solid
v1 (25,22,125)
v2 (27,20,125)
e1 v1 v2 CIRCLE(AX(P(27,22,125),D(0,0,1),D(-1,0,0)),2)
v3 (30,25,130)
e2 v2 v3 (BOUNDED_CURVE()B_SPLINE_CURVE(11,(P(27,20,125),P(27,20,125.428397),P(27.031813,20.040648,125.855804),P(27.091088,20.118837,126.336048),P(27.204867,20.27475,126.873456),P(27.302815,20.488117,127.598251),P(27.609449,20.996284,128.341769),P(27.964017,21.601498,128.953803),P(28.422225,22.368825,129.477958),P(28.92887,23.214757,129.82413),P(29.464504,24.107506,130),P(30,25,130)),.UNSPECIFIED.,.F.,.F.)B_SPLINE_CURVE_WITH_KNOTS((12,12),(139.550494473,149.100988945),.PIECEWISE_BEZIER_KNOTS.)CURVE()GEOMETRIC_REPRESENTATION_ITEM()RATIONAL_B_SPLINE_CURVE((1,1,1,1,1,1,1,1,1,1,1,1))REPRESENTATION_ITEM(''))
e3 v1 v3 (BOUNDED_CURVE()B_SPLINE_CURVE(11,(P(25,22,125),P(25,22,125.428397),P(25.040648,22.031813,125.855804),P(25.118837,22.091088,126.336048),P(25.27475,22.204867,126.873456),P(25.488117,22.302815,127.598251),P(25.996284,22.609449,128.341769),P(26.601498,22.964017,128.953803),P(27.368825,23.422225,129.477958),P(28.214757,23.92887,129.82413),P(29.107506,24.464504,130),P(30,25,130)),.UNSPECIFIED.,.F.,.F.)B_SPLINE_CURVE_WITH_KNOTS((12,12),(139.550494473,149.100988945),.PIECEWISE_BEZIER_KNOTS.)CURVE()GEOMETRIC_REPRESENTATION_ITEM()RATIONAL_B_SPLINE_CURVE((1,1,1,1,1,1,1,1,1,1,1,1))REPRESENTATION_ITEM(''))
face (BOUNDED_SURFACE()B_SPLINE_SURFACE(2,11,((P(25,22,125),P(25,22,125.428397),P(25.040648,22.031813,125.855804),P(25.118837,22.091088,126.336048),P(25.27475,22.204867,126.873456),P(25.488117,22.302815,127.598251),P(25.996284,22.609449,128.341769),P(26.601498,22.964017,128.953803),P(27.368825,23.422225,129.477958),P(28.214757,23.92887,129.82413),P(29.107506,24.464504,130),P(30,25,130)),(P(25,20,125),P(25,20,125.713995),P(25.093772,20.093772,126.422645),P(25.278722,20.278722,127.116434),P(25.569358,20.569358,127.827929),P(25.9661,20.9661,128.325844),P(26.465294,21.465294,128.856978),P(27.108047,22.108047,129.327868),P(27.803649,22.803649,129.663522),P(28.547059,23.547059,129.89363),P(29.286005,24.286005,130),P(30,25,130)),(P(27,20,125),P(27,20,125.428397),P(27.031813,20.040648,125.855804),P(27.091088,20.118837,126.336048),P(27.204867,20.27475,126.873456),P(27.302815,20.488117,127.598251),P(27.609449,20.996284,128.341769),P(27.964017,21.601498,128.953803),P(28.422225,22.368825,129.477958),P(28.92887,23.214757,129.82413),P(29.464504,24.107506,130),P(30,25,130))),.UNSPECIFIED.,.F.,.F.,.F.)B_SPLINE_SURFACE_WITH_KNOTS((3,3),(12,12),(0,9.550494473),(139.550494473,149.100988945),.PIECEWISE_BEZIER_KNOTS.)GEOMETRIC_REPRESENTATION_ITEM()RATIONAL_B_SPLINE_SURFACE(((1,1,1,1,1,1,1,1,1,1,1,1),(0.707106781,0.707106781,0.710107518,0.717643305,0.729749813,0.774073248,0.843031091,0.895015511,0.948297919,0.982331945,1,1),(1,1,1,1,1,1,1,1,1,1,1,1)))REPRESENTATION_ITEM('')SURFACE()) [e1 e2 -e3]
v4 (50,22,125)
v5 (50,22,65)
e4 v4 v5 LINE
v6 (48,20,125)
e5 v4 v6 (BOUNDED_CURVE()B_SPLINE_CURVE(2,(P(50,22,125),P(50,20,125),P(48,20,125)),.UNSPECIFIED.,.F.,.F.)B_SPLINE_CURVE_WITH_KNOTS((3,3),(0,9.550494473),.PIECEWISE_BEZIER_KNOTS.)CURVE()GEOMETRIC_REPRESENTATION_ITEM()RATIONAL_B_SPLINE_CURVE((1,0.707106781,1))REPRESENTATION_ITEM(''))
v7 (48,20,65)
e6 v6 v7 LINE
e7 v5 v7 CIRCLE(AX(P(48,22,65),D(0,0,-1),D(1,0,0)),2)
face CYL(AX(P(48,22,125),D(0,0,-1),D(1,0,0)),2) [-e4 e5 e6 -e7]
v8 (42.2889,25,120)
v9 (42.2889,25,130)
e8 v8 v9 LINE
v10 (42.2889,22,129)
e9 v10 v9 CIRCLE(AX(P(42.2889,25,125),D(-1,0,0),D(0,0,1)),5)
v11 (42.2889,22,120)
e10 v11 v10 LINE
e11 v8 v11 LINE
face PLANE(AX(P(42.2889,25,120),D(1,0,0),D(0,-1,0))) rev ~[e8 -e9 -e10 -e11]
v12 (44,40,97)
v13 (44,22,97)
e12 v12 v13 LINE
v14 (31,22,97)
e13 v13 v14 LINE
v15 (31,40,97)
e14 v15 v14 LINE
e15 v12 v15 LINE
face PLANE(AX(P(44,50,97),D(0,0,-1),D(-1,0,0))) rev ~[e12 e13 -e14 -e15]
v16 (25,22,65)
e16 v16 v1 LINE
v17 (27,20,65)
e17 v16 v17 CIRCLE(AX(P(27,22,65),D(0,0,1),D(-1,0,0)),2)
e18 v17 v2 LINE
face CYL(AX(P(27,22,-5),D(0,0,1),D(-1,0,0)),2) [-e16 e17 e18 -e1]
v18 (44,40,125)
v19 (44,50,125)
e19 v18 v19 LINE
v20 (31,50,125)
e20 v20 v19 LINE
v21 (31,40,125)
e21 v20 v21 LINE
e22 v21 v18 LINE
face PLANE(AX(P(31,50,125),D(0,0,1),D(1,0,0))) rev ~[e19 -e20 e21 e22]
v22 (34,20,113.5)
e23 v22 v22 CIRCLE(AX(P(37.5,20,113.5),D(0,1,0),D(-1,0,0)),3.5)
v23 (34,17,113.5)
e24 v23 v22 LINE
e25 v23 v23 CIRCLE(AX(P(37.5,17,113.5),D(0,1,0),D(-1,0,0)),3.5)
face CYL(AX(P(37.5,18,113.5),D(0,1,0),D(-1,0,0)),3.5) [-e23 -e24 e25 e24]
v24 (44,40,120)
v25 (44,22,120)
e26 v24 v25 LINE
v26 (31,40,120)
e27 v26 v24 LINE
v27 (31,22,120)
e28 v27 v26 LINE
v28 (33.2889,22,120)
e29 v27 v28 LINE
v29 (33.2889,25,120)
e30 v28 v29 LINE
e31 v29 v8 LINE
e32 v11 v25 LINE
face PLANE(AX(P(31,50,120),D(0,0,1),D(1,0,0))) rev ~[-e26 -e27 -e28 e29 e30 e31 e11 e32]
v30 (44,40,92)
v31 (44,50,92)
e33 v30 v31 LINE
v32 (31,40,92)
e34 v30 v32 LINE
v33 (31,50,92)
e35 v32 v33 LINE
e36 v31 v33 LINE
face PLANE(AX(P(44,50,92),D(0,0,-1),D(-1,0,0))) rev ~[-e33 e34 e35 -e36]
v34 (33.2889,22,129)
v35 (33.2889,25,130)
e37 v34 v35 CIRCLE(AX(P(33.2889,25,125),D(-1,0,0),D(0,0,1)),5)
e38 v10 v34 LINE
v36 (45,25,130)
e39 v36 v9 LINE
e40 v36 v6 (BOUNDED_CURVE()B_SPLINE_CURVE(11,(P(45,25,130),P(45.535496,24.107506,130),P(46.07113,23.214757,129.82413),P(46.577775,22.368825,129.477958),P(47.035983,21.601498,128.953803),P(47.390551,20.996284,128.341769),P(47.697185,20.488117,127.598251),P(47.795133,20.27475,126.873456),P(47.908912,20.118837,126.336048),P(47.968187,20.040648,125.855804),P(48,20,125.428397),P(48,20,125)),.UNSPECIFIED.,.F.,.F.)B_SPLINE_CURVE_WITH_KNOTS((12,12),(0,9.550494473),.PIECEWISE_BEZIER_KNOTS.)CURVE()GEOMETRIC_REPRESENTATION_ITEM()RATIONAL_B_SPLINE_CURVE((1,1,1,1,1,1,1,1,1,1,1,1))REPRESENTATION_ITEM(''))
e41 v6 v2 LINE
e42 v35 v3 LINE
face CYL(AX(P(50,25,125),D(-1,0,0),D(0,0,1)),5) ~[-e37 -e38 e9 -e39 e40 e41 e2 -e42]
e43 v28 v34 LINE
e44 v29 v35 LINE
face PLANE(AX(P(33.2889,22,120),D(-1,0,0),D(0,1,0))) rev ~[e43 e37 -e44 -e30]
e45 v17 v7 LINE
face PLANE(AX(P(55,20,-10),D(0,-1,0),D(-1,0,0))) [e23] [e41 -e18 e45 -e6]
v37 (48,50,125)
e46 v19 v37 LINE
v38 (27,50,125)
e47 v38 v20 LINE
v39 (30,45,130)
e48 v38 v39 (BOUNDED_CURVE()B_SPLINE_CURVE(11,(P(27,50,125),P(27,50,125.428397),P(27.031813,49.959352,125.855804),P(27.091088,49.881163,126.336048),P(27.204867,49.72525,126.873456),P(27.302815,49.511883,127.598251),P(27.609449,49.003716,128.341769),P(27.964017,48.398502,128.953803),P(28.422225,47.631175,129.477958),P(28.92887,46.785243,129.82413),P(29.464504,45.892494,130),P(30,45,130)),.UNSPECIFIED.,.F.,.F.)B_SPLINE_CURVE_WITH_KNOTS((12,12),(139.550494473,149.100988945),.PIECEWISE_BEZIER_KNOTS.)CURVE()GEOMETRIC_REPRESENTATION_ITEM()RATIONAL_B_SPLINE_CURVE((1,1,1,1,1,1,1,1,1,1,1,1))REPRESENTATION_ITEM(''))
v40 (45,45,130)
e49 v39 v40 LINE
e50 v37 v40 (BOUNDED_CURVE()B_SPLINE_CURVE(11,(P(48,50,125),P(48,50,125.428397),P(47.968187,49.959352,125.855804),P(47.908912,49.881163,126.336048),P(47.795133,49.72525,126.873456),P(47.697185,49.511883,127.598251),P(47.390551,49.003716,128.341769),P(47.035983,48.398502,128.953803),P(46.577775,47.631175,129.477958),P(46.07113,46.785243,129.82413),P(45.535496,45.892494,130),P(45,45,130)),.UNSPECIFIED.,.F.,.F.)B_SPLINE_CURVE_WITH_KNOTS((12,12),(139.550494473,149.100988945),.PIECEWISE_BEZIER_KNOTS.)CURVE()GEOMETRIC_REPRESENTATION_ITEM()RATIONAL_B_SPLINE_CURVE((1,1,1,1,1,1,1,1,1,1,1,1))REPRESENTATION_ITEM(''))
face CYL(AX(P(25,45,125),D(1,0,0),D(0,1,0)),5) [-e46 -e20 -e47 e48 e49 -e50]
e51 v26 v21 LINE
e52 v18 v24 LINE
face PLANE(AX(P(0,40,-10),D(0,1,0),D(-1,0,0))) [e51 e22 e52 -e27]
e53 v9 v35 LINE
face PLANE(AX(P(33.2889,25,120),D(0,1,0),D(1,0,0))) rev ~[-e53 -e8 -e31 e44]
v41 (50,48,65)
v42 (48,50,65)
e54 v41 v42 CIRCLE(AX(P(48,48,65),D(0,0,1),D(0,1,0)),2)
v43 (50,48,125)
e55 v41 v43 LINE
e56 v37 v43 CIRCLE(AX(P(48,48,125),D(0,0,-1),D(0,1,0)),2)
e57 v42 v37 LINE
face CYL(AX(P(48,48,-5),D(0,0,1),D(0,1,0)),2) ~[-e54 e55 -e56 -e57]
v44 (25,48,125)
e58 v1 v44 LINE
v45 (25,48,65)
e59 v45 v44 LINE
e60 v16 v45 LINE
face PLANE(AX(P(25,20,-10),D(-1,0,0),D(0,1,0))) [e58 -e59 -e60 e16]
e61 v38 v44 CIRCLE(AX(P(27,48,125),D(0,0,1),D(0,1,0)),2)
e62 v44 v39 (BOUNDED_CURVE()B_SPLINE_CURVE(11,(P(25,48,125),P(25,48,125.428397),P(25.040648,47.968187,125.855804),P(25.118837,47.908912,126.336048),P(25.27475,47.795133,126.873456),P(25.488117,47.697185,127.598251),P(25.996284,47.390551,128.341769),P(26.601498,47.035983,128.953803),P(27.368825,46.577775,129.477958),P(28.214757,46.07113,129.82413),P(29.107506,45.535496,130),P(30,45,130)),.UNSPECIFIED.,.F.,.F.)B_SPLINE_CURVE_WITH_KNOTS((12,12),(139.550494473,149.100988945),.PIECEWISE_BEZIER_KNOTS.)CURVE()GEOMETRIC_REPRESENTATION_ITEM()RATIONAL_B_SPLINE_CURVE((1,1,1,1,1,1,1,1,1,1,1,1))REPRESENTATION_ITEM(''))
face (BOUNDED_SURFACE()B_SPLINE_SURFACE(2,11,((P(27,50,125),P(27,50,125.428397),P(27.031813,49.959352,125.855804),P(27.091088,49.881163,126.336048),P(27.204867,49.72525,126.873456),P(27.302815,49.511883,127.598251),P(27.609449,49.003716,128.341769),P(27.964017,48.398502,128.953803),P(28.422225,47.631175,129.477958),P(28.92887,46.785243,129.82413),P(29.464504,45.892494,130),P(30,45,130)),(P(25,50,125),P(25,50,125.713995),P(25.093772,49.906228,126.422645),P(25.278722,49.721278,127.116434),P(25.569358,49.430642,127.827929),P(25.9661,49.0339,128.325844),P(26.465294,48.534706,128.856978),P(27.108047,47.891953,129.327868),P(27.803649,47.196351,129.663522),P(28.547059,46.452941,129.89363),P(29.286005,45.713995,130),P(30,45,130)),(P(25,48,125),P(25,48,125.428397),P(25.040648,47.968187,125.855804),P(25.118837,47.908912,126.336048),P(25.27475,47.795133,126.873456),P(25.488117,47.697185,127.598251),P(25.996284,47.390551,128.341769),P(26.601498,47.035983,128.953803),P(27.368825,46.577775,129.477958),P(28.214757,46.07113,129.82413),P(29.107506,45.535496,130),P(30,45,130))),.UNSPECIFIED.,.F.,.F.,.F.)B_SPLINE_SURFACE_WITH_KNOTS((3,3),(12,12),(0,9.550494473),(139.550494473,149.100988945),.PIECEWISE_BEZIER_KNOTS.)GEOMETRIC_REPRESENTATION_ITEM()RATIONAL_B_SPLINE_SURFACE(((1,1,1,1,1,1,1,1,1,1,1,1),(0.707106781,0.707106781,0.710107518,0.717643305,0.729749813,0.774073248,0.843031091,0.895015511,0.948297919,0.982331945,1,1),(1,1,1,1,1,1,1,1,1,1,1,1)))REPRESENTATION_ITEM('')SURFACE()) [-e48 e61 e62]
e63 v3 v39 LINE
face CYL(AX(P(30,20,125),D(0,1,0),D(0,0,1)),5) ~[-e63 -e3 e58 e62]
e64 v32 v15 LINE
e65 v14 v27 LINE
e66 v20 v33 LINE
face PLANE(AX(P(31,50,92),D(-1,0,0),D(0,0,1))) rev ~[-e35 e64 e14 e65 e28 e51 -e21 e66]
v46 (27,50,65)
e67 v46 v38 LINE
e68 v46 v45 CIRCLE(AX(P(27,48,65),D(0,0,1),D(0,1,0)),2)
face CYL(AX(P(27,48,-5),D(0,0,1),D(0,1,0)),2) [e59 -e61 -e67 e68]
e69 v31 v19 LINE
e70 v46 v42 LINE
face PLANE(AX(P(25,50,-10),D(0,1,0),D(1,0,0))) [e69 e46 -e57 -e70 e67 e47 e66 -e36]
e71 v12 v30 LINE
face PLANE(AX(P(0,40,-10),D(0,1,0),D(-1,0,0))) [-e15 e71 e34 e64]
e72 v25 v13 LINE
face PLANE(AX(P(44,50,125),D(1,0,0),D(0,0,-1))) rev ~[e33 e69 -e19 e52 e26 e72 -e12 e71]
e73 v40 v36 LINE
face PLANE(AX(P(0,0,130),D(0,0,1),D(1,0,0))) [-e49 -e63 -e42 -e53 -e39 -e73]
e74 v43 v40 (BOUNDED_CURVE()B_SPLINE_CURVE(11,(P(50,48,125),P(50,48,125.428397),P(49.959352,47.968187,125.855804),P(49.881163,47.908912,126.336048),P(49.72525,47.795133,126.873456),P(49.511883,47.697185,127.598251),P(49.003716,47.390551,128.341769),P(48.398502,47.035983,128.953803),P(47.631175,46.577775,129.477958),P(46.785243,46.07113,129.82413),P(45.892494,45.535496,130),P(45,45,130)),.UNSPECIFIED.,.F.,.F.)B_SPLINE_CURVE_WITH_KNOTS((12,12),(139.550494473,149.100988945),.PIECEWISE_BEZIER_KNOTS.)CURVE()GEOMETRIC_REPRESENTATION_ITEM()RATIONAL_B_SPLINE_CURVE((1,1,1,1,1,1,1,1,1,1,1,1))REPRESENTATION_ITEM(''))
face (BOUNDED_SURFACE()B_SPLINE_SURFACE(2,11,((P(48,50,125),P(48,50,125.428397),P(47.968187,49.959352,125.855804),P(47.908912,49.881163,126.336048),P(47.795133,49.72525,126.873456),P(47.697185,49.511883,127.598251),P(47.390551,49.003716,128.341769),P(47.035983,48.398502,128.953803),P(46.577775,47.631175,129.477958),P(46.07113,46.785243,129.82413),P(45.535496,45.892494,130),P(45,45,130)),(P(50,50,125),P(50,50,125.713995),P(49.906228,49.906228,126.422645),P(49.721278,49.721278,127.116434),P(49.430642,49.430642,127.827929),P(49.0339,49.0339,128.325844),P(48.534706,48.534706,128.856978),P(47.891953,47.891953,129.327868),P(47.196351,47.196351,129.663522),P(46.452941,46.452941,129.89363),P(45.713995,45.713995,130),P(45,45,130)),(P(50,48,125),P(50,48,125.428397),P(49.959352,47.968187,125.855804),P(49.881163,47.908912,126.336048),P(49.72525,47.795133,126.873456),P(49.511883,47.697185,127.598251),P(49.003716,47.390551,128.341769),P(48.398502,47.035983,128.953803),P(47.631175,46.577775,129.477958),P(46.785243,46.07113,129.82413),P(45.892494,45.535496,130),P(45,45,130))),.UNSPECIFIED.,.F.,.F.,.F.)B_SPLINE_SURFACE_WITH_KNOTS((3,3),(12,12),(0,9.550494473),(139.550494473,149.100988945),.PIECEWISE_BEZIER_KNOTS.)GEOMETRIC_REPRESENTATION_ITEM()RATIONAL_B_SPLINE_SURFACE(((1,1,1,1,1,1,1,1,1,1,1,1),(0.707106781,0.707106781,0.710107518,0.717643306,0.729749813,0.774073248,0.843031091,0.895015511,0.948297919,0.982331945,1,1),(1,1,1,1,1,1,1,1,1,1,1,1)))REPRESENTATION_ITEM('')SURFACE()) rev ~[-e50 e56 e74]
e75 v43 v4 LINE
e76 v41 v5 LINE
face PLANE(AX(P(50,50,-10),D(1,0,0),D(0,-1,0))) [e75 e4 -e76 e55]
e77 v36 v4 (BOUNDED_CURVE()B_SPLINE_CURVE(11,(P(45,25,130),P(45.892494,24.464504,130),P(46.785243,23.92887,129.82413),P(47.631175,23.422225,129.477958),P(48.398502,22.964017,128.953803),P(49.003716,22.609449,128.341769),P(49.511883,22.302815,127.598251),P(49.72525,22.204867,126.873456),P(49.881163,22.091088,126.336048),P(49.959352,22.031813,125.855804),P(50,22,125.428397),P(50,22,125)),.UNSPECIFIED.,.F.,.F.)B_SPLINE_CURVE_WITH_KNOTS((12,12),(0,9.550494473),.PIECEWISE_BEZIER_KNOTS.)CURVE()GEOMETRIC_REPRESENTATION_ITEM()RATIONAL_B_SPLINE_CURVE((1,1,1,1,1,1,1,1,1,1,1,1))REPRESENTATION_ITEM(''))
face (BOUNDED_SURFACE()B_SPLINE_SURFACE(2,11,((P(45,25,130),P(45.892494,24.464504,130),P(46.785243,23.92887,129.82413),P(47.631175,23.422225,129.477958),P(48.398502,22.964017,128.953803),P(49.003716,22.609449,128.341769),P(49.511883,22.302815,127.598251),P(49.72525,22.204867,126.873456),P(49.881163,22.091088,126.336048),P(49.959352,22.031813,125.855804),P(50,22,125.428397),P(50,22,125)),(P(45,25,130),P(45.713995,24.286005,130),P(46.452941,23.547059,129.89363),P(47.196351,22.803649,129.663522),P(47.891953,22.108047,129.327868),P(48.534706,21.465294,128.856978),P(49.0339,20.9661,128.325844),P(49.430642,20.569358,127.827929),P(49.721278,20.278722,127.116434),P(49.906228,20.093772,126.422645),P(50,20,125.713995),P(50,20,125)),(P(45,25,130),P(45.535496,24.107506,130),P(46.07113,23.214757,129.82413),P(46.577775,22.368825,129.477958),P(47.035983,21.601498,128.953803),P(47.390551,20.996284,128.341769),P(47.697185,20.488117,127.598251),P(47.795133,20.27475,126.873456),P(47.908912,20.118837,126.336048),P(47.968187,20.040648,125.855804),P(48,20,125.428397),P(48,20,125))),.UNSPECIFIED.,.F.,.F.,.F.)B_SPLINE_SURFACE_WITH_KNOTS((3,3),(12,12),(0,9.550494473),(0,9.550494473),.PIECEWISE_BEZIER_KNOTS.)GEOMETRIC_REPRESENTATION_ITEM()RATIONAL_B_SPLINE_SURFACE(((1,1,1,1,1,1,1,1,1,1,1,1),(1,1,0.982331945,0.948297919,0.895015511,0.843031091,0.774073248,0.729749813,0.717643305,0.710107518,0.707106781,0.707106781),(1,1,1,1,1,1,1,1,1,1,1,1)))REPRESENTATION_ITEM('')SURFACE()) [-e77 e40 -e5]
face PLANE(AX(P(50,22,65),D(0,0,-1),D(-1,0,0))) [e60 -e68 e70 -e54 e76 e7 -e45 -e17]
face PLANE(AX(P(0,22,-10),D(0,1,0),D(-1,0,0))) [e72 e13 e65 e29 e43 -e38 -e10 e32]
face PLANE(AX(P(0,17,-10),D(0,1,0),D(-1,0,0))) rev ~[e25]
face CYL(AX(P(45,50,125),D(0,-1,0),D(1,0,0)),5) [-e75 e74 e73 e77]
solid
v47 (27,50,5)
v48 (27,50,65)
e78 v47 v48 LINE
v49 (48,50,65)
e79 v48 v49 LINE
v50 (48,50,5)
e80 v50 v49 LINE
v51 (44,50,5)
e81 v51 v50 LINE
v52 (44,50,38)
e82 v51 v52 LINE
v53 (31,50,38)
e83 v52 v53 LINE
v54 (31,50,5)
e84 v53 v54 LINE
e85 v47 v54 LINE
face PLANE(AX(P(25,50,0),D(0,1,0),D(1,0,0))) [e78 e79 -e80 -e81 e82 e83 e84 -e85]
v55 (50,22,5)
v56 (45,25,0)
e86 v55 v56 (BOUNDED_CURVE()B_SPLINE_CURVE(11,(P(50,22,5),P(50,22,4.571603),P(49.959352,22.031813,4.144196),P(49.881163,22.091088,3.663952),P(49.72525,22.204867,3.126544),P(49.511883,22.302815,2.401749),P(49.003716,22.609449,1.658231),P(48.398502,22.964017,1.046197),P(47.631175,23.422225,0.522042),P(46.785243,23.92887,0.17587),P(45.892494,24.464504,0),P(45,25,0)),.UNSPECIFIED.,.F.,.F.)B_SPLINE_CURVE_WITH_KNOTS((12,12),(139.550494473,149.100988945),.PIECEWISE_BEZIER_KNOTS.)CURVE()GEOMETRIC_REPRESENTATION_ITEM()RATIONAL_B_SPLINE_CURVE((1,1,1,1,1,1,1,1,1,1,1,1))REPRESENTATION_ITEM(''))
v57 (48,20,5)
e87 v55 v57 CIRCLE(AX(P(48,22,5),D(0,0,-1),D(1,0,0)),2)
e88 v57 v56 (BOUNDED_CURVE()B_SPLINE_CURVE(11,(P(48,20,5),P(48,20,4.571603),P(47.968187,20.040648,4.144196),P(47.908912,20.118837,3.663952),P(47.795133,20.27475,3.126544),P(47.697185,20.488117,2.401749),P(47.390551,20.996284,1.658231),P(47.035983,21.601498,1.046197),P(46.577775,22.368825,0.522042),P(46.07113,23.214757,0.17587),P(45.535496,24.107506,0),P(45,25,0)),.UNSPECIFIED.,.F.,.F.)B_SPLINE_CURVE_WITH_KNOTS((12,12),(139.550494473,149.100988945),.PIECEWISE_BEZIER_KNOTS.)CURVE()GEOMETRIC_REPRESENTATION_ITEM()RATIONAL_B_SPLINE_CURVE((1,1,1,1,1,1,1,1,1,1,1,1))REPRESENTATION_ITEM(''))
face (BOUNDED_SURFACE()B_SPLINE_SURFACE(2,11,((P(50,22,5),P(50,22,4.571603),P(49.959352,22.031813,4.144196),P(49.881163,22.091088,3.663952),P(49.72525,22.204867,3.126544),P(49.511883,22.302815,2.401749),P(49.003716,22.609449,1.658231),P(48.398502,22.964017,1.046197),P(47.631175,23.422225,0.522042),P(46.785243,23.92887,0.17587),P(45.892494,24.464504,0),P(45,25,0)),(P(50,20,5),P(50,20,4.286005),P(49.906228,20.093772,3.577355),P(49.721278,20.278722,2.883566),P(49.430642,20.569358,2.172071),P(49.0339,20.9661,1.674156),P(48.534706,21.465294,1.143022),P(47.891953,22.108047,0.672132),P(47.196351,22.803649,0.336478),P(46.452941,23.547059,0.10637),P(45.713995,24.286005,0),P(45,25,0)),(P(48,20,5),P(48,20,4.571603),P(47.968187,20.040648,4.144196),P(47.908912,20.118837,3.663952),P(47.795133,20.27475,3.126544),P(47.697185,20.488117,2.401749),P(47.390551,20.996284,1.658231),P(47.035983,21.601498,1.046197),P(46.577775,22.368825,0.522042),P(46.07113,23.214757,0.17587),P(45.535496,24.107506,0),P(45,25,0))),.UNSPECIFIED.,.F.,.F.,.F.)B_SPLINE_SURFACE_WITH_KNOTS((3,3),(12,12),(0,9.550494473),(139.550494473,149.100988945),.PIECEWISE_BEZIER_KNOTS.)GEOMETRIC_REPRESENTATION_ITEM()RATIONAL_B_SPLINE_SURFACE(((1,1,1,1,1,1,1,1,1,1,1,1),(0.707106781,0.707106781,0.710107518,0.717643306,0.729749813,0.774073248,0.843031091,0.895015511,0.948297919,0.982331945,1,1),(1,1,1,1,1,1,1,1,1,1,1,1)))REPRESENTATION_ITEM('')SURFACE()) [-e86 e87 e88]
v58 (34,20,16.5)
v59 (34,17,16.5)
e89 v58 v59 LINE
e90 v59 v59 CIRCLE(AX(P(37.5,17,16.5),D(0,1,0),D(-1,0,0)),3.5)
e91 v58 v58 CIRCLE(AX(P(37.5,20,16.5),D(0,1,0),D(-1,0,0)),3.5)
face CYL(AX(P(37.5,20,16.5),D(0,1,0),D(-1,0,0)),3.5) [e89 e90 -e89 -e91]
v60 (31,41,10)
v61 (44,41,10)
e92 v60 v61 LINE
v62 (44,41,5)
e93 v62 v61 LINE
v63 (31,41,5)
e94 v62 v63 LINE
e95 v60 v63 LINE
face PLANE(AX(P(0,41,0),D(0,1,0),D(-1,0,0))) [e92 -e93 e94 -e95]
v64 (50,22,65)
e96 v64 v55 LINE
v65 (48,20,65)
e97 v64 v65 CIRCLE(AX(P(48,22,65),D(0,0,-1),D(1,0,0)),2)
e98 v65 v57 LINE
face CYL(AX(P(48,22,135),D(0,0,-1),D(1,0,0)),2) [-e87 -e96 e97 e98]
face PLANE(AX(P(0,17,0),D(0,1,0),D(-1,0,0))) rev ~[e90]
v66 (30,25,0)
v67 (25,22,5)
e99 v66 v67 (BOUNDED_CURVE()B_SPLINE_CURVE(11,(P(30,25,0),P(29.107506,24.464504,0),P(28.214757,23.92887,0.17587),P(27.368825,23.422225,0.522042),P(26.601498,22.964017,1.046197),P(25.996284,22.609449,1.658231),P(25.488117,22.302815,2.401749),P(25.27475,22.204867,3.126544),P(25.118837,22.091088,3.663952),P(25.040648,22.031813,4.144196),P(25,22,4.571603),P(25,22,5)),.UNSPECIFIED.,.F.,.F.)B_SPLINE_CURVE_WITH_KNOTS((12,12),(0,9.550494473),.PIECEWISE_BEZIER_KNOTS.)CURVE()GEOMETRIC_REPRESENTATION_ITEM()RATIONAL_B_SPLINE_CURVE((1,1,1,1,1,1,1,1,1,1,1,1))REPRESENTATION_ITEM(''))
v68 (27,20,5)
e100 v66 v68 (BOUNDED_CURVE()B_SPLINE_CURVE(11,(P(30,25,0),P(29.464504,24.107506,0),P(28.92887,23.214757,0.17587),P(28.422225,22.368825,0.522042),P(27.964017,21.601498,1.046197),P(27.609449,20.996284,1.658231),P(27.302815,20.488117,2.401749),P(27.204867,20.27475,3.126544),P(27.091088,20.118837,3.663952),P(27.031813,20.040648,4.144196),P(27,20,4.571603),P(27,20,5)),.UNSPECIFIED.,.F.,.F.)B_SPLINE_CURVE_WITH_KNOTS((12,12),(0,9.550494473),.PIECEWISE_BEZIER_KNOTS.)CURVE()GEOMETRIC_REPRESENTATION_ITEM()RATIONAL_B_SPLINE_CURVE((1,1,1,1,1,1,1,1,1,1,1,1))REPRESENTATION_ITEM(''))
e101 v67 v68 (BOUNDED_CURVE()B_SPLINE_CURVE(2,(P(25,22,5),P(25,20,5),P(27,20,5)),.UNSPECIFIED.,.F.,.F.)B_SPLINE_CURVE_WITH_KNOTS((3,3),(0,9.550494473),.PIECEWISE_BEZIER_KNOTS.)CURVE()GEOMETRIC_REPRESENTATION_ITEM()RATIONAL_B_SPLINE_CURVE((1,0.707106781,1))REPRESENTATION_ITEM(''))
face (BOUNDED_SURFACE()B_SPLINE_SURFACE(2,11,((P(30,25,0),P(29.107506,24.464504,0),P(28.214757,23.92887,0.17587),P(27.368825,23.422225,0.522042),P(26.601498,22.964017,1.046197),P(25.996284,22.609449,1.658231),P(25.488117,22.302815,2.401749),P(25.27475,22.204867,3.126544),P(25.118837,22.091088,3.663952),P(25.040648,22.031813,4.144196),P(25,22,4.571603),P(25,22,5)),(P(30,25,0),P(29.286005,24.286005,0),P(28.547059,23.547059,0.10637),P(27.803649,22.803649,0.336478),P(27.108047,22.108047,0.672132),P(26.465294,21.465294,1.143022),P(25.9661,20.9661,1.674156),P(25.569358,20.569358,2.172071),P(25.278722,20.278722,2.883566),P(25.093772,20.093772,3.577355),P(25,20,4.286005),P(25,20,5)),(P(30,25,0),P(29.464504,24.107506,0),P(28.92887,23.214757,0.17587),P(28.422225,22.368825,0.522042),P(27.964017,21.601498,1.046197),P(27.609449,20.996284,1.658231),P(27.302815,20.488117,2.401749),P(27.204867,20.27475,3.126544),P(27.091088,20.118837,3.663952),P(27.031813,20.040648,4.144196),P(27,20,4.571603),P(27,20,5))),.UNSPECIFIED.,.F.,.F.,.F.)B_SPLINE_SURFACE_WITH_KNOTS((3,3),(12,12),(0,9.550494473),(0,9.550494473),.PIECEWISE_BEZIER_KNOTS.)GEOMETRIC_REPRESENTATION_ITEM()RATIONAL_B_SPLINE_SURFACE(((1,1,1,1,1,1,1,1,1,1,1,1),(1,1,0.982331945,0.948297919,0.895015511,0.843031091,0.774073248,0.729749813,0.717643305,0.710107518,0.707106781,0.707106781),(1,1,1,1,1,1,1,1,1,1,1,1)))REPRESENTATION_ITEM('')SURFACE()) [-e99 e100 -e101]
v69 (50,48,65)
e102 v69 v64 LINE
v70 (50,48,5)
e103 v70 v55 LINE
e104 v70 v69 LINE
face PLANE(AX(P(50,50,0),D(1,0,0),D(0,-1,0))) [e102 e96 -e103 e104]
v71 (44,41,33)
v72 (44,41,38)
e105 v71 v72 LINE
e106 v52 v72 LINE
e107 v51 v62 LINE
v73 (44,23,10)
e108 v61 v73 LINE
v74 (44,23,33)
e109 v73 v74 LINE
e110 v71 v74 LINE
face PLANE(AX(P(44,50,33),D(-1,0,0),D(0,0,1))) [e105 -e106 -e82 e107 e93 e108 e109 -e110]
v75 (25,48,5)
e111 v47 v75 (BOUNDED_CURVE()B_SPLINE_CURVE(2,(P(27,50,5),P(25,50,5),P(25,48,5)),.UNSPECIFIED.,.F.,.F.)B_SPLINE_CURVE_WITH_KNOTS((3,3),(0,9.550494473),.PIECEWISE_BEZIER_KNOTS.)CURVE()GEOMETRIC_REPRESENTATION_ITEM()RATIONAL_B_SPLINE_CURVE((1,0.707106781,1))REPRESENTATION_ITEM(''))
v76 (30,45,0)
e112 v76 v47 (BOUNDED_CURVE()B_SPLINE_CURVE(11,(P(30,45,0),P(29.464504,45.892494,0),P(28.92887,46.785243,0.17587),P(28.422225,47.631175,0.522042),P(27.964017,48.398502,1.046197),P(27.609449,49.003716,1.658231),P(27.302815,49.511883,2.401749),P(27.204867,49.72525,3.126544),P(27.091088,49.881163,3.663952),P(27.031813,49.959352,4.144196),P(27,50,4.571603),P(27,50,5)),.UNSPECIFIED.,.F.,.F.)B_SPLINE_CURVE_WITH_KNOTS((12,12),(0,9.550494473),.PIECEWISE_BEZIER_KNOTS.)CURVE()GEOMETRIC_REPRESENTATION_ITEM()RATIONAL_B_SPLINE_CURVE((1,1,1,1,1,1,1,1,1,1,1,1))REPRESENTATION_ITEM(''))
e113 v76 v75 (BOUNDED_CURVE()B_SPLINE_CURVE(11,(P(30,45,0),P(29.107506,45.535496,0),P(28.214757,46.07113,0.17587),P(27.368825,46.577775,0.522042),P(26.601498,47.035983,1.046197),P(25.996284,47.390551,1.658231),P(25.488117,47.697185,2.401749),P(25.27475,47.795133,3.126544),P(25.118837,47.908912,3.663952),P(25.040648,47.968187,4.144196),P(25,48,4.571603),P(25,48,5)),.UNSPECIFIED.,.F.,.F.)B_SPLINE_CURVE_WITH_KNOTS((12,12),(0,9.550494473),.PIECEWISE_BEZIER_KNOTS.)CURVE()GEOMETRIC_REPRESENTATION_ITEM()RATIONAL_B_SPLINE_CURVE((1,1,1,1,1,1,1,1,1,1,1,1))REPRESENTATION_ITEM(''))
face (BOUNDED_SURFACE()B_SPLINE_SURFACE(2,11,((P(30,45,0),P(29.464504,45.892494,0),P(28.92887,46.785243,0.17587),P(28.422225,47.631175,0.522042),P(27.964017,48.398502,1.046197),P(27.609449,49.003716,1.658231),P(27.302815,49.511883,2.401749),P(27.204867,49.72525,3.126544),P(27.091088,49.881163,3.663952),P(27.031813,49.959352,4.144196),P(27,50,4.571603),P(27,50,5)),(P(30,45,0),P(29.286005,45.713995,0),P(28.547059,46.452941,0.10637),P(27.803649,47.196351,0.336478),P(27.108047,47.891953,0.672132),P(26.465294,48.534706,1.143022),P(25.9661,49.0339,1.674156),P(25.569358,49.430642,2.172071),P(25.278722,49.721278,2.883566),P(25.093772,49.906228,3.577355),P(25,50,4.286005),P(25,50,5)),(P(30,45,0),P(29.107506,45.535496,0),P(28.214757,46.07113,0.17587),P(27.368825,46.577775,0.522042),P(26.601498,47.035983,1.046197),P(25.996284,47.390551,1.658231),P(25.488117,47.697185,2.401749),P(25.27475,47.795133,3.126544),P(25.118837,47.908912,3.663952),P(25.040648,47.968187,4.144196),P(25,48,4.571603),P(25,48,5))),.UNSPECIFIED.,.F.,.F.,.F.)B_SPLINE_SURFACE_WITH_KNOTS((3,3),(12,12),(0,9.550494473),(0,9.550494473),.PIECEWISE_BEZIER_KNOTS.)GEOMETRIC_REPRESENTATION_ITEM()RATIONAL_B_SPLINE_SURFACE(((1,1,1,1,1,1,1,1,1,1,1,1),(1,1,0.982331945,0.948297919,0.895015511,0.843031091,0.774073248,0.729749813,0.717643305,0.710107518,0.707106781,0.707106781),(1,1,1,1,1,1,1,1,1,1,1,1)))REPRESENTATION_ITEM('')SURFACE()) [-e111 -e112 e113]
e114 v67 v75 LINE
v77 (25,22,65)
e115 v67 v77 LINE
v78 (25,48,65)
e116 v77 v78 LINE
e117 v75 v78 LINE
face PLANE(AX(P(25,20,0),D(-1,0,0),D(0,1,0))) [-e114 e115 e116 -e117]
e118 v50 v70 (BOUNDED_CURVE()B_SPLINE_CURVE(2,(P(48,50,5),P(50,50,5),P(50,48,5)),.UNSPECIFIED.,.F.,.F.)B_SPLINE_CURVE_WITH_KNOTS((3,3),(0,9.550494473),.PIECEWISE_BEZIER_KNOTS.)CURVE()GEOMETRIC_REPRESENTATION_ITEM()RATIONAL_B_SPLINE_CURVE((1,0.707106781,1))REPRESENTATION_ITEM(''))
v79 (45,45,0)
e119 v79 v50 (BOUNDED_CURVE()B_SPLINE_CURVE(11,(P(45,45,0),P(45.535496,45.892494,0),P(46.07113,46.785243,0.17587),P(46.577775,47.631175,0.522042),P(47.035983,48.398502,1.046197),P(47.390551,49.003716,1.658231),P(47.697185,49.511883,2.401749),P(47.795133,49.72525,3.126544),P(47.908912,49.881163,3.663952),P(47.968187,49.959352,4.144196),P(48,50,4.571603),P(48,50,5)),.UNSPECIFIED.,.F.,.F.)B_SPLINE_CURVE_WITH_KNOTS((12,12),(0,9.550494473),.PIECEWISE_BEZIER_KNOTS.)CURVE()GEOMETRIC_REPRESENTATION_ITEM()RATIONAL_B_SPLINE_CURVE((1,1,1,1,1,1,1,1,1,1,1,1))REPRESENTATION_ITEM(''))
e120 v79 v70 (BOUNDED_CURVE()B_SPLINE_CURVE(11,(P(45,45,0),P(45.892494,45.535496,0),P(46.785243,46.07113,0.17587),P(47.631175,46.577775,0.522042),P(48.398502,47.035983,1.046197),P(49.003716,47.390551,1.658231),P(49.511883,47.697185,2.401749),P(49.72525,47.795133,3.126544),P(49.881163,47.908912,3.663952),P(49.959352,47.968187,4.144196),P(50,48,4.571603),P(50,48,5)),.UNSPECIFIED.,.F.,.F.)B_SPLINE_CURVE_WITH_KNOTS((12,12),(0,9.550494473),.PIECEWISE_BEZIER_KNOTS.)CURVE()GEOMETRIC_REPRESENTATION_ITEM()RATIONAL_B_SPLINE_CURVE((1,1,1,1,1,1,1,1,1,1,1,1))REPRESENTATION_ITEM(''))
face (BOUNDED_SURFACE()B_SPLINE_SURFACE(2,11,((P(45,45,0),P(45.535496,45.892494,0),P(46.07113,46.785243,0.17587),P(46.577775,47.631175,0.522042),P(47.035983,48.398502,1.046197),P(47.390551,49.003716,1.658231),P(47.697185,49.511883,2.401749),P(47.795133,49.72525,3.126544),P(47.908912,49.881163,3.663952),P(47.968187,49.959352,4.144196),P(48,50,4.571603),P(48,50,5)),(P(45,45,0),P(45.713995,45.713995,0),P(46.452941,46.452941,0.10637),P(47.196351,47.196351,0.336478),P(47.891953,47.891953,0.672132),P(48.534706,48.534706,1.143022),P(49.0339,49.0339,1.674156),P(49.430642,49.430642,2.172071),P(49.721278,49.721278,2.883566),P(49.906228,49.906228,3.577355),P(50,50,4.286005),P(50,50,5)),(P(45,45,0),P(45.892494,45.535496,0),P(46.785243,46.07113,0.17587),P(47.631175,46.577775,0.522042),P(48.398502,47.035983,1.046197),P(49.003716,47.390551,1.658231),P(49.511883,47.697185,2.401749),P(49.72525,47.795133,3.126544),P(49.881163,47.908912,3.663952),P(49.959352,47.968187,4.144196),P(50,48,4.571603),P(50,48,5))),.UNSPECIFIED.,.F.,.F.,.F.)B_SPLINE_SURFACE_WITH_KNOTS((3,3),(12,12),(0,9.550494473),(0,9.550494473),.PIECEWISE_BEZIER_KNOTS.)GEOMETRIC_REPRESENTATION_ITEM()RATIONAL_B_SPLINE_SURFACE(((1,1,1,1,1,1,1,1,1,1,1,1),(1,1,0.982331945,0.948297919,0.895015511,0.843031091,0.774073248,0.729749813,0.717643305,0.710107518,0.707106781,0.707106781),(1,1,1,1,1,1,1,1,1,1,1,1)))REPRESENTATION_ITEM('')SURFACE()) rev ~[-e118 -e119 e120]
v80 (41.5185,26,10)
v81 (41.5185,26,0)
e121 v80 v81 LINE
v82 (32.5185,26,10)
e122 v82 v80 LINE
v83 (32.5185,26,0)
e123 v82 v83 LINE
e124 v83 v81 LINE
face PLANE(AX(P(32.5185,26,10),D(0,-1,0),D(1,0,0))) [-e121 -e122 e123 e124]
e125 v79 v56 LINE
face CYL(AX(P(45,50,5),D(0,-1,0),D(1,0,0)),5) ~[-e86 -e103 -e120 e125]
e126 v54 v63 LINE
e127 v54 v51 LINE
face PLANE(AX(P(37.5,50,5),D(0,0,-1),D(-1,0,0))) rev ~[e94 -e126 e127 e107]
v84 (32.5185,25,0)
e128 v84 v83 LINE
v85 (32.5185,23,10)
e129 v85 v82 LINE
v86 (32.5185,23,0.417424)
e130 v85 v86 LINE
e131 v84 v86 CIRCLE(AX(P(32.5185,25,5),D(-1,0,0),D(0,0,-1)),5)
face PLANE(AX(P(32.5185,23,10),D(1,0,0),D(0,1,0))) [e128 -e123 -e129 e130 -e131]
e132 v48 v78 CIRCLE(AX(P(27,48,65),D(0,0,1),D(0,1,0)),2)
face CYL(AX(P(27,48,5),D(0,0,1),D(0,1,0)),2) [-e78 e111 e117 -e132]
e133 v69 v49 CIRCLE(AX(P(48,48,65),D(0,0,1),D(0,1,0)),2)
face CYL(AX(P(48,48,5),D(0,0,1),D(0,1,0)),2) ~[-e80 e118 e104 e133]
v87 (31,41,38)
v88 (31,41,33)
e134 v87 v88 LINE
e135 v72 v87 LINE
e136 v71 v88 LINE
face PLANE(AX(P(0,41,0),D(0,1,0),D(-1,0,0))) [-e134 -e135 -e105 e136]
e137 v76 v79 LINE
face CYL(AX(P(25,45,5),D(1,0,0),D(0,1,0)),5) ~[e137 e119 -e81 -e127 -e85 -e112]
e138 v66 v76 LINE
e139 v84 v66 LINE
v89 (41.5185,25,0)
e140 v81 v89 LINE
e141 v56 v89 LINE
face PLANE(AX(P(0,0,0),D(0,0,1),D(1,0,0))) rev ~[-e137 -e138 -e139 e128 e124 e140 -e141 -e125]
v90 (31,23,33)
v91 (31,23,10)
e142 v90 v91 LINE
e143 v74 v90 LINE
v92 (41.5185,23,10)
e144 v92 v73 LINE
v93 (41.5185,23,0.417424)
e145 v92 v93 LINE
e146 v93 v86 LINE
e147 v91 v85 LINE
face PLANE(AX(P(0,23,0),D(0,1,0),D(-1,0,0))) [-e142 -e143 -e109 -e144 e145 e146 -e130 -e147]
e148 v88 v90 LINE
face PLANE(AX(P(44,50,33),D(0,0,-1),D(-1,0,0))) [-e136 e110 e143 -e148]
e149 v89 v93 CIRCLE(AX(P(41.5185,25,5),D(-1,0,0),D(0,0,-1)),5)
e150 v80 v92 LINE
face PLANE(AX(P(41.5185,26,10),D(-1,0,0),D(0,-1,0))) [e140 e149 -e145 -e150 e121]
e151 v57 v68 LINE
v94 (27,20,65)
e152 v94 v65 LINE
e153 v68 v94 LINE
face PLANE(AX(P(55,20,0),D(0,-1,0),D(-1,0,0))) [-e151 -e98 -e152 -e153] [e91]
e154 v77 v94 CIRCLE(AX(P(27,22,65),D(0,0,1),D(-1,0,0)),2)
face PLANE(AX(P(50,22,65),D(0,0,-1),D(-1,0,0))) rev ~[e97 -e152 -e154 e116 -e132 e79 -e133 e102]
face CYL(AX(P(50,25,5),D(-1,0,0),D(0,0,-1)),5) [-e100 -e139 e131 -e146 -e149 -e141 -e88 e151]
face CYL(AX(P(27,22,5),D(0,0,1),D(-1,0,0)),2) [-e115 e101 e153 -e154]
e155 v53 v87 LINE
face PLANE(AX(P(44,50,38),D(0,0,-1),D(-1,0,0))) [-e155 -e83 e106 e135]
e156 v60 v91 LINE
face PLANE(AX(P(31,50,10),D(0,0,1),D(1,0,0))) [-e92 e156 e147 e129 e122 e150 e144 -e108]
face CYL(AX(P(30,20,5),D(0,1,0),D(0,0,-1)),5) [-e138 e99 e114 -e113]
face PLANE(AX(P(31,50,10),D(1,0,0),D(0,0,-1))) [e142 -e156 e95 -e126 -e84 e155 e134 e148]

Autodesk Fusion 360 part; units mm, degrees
sketch "Sketch1" plane through (0, 0, 0) normal (0, 0, 1) x (1, 0, 0)
  line L0 (25, 50) -> (55, 50)
  line L1 (55, 50) -> (55, 20)
  line L2 (55, 20) -> (25, 20)
  line L3 (25, 20) -> (25, 50)
extrude "Extrude1" add sketch "Sketch1" along normal blind 150 makes body 1
extrude "Extrude2" cut 1 faces at (55, 40, 50) along direction (-1, 0, 0) blind 5 on bodies 1 bodies 1
extrude "Extrude3" cut 1 faces at (33.3333, 30, 150) along direction (0, 0, -1) blind 10 on bodies 1 bodies 1
fillet "Fillet7" radius 5 1 faces at (33.3333, 30, 140) on bodies 1
fillet "Fillet8" radius 5 1 faces at (33.3333, 30, 0) on bodies 1
fillet "Fillet9" radius 2 14 faces at (33.3333, 50, 48.3333) (34.5665, 46.749, 0.3159) (35, 38.3333, 0) (34.9025, 24.4637, 0.0288) (41.6667, 20, 48.3333) (34.9025, 24.4637, 139.9712) (35, 38.3333, 140) (34.5665, 46.749, 139.6841) (29.4637, 31.5691, 139.9712) (25, 30, 48.3333) (29.4637, 31.5691, 0.0288) (46.749, 38.7668, 139.6841) (50, 40, 48.3333) (46.749, 38.7668, 0.3159) on bodies 1
sketch "Sketch4" plane through (0, 50, 0) normal (0, 1, 0) x (-1, 0, 0)
  line L0 (-48, 135) -> (-48, 5)
  line L1 (-48, 5) -> (-27, 5)
  line L2 (-27, 5) -> (-27, 135)
  line L3 (-27, 135) -> (-48, 135)
  line L4 (-37.5, 5) -> (-31, 5)
  line L5 (-31, 5) -> (-44, 5)
  line L6 (-44, 5) -> (-44, 38)
  line L7 (-44, 38) -> (-31, 38)
  line L8 (-31, 38) -> (-31, 5)
  line L9 (-31, 5) -> (-31, 10)
  line L10 (-31, 10) -> (-44, 10)
  line L11 (-44, 10) -> (-44, 33)
  line L12 (-44, 33) -> (-31, 33)
  line L13 (-31, 33) -> (-31, 10)
  circle A0 centre (-37.5, 16.5) radius 3.5
  line L14 (-44, 102) -> (-31, 102)
  line L15 (-44, 107) -> (-31, 107)
  line L16 (-31, 102) -> (-31, 135)
  line L17 (-44, 130) -> (-44, 107)
  line L18 (-44, 135) -> (-44, 102)
  line L19 (-31, 130) -> (-44, 130)
  line L20 (-31, 135) -> (-44, 135)
  circle A1 centre (-37.5, 123.5) radius 3.5
extrude "Extrude4" cut sketch "Sketch4" against normal blind 27 contours L6 L8 L10 L11 L12 L13 | A0 bodies 1
sketch "Sketch5" plane through (0, 0, 10) normal (0, 0, 1) x (-1, 0, 0)
  line L0 (-44, -50) -> (-31, -50)
  line L1 (-31, -50) -> (-31, -23)
  line L2 (-31, -23) -> (-44, -23)
  line L3 (-44, -23) -> (-44, -50)
  line L4 (-41.5185, -23) -> (-32.5185, -23)
  line L5 (-32.5185, -23) -> (-32.5185, -26)
  line L6 (-32.5185, -26) -> (-41.5185, -26)
  line L7 (-41.5185, -26) -> (-41.5185, -23)
  dimension "d42" = 9
  dimension "d43" = 3
extrude "Extrude5" cut sketch "Sketch5" against normal blind 11 contours L2 L4 L5 L6 L7 bodies 1
extrude "Extrude6" add sketch "Sketch4" against normal blind 4 from surface at -30 contours A0 bodies 1
extrude "Extrude7" cut sketch "Sketch4" against normal blind 27 contours L15 L16 L17 L18 L19 | A1 bodies 1
extrude "Extrude8" add sketch "Sketch4" against normal blind 4 from surface at -30 contours A1 bodies 1
sketch "Sketch6" plane through (0, 0, 130) normal (0, 0, -1) x (1, 0, 0)
  line L0 (31, -50) -> (44, -50)
  line L1 (44, -50) -> (44, -23)
  line L2 (44, -23) -> (31, -23)
  line L3 (31, -23) -> (31, -50)
  line L4 (41.5626, -23) -> (32.5626, -23)
  line L5 (32.5626, -23) -> (32.5626, -26)
  line L6 (32.5626, -26) -> (41.5626, -26)
  line L7 (41.5626, -26) -> (41.5626, -23)
  dimension "d54" = 9
  dimension "d55" = 3
extrude "Extrude14" cut 1 faces at (35.3333, 23, 114.6667) along direction (0, -1, 0) blind 1 on bodies 1 bodies 1
extrude "Extrude15" cut 1 faces at (37.2404, 16, 122.3626) along direction (0, 1, 0) blind 1 on bodies 1 bodies 1
extrude "Extrude16" cut 1 faces at (37.1409, 16, 17.4466) along direction (0, 1, 0) blind 1 on bodies 1 bodies 1
extrude "Extrude17" cut 1 faces at (37.2404, 17, 122.3626) along direction (0, 1, 0) blind 1 on bodies 1 bodies 1
extrude "Extrude18" cut sketch "Sketch4" against normal blind 9 contours L3 L16 L18 L19 L20 | L1 L4 L5 L6 L8 L9 L10 | L14 L15 L16 L18 | L6 L7 L8 L12 bodies 1
extrude "Extrude19" cut 2 faces at (39.6667, 41, 131.6667) (39.6667, 41, 105.3333) along direction (0, -1, 0) blind 1 on bodies 1 bodies 1
sketch "Sketch7" plane through (0, 0, 130) normal (0, 0, -1) x (1, 0, 0)
  line L0 (31, -40) -> (44, -40)
  line L1 (44, -40) -> (44, -22)
  line L2 (44, -22) -> (31, -22)
  line L3 (31, -22) -> (31, -40)
  line L4 (42.2889, -22) -> (33.2889, -22)
  line L5 (33.2889, -22) -> (33.2889, -25)
  line L6 (33.2889, -25) -> (42.2889, -25)
  line L7 (42.2889, -25) -> (42.2889, -22)
  dimension "d78" = 9
  dimension "d79" = 3
extrude "Extrude20" cut sketch "Sketch7" against normal blind 18 contours L2 L4 L5 L6 L7 bodies 1
extrude "Extrude21" add 1 faces at (37.2404, 18, 122.3626) along direction (0, -1, 0) blind 1 on bodies 1 bodies 1
sketch "Sketch8" plane through (50, 0, 0) normal (1, 0, 0) x (0, 1, 0)
  line L0 (22, 135) -> (22, 5)
  line L1 (22, 5) -> (48, 5)
  line L2 (48, 5) -> (48, 135)
  line L3 (48, 135) -> (22, 135)
  line L4 (48, 70) -> (22, 70)
  line L5 (48, 75) -> (22, 75)
  line L6 (48, 65) -> (22, 65)
  line L7 (22, 75) -> (48, 75)
  line L8 (48, 65) -> (22, 65)
extrude "Extrude22" cut sketch "Sketch8" against normal blind 40 contours L0 L2 L4 L5 L7 | L0 L2 L4 L6 L8 bodies 1
extrude "Extrude23" cut 1 faces at (41.6667, 48, 68.3333) along direction (0, 1, 0) blind 5 on bodies 1 bodies 1
extrude "Extrude24" cut 1 faces at (41.6667, 22, 71.6667) along direction (0, -1, 0) blind 16 on bodies 1 bodies 1 makes body 2 at (25, 30.6667, 25)
copy_body "Body->Comp1" bodies 1 removing the originals makes body 3 in component "Component"
copy_body "Body->Comp2" bodies 2 removing the originals makes body 4 in component "Component'"
extrude "Extrude9" [suppressed]
extrude "Extrude10" [suppressed]
extrude "Extrude11" [suppressed]
extrude "Extrude12" [suppressed]
extrude "Extrude13" [suppressed]
fillet "Fillet4" [suppressed]
fillet "Fillet5" [suppressed]
fillet "Fillet6" [suppressed]
sketch "Sketch3" plane through (0, 50, 0) normal (0, 1, 0) x (-1, 0, 0)
  line L0 (-48, 140) -> (-48, 5)
  line L1 (-48, 5) -> (-27, 5)
  line L2 (-27, 5) -> (-27, 140)
  line L3 (-27, 140) -> (-48, 140)
  line L4 (-44.5, 5) -> (-30.5, 5)
  line L5 (-30.5, 5) -> (-30.5, 30)
  line L6 (-30.5, 30) -> (-44.5, 30)
  line L7 (-44.5, 30) -> (-44.5, 5)
fillet "Fillet1" [suppressed]
fillet "Fillet2" [suppressed]
fillet "Fillet3" [suppressed]
component "Component" placed x (1, 0, 0) y (0, 1, 0) z (0, 0, 1) at (0, 0, -10)
component "Component'" placed x (1, 0, 0) y (0, 1, 0) z (0, 0, 1) at (0, 0, 0)
